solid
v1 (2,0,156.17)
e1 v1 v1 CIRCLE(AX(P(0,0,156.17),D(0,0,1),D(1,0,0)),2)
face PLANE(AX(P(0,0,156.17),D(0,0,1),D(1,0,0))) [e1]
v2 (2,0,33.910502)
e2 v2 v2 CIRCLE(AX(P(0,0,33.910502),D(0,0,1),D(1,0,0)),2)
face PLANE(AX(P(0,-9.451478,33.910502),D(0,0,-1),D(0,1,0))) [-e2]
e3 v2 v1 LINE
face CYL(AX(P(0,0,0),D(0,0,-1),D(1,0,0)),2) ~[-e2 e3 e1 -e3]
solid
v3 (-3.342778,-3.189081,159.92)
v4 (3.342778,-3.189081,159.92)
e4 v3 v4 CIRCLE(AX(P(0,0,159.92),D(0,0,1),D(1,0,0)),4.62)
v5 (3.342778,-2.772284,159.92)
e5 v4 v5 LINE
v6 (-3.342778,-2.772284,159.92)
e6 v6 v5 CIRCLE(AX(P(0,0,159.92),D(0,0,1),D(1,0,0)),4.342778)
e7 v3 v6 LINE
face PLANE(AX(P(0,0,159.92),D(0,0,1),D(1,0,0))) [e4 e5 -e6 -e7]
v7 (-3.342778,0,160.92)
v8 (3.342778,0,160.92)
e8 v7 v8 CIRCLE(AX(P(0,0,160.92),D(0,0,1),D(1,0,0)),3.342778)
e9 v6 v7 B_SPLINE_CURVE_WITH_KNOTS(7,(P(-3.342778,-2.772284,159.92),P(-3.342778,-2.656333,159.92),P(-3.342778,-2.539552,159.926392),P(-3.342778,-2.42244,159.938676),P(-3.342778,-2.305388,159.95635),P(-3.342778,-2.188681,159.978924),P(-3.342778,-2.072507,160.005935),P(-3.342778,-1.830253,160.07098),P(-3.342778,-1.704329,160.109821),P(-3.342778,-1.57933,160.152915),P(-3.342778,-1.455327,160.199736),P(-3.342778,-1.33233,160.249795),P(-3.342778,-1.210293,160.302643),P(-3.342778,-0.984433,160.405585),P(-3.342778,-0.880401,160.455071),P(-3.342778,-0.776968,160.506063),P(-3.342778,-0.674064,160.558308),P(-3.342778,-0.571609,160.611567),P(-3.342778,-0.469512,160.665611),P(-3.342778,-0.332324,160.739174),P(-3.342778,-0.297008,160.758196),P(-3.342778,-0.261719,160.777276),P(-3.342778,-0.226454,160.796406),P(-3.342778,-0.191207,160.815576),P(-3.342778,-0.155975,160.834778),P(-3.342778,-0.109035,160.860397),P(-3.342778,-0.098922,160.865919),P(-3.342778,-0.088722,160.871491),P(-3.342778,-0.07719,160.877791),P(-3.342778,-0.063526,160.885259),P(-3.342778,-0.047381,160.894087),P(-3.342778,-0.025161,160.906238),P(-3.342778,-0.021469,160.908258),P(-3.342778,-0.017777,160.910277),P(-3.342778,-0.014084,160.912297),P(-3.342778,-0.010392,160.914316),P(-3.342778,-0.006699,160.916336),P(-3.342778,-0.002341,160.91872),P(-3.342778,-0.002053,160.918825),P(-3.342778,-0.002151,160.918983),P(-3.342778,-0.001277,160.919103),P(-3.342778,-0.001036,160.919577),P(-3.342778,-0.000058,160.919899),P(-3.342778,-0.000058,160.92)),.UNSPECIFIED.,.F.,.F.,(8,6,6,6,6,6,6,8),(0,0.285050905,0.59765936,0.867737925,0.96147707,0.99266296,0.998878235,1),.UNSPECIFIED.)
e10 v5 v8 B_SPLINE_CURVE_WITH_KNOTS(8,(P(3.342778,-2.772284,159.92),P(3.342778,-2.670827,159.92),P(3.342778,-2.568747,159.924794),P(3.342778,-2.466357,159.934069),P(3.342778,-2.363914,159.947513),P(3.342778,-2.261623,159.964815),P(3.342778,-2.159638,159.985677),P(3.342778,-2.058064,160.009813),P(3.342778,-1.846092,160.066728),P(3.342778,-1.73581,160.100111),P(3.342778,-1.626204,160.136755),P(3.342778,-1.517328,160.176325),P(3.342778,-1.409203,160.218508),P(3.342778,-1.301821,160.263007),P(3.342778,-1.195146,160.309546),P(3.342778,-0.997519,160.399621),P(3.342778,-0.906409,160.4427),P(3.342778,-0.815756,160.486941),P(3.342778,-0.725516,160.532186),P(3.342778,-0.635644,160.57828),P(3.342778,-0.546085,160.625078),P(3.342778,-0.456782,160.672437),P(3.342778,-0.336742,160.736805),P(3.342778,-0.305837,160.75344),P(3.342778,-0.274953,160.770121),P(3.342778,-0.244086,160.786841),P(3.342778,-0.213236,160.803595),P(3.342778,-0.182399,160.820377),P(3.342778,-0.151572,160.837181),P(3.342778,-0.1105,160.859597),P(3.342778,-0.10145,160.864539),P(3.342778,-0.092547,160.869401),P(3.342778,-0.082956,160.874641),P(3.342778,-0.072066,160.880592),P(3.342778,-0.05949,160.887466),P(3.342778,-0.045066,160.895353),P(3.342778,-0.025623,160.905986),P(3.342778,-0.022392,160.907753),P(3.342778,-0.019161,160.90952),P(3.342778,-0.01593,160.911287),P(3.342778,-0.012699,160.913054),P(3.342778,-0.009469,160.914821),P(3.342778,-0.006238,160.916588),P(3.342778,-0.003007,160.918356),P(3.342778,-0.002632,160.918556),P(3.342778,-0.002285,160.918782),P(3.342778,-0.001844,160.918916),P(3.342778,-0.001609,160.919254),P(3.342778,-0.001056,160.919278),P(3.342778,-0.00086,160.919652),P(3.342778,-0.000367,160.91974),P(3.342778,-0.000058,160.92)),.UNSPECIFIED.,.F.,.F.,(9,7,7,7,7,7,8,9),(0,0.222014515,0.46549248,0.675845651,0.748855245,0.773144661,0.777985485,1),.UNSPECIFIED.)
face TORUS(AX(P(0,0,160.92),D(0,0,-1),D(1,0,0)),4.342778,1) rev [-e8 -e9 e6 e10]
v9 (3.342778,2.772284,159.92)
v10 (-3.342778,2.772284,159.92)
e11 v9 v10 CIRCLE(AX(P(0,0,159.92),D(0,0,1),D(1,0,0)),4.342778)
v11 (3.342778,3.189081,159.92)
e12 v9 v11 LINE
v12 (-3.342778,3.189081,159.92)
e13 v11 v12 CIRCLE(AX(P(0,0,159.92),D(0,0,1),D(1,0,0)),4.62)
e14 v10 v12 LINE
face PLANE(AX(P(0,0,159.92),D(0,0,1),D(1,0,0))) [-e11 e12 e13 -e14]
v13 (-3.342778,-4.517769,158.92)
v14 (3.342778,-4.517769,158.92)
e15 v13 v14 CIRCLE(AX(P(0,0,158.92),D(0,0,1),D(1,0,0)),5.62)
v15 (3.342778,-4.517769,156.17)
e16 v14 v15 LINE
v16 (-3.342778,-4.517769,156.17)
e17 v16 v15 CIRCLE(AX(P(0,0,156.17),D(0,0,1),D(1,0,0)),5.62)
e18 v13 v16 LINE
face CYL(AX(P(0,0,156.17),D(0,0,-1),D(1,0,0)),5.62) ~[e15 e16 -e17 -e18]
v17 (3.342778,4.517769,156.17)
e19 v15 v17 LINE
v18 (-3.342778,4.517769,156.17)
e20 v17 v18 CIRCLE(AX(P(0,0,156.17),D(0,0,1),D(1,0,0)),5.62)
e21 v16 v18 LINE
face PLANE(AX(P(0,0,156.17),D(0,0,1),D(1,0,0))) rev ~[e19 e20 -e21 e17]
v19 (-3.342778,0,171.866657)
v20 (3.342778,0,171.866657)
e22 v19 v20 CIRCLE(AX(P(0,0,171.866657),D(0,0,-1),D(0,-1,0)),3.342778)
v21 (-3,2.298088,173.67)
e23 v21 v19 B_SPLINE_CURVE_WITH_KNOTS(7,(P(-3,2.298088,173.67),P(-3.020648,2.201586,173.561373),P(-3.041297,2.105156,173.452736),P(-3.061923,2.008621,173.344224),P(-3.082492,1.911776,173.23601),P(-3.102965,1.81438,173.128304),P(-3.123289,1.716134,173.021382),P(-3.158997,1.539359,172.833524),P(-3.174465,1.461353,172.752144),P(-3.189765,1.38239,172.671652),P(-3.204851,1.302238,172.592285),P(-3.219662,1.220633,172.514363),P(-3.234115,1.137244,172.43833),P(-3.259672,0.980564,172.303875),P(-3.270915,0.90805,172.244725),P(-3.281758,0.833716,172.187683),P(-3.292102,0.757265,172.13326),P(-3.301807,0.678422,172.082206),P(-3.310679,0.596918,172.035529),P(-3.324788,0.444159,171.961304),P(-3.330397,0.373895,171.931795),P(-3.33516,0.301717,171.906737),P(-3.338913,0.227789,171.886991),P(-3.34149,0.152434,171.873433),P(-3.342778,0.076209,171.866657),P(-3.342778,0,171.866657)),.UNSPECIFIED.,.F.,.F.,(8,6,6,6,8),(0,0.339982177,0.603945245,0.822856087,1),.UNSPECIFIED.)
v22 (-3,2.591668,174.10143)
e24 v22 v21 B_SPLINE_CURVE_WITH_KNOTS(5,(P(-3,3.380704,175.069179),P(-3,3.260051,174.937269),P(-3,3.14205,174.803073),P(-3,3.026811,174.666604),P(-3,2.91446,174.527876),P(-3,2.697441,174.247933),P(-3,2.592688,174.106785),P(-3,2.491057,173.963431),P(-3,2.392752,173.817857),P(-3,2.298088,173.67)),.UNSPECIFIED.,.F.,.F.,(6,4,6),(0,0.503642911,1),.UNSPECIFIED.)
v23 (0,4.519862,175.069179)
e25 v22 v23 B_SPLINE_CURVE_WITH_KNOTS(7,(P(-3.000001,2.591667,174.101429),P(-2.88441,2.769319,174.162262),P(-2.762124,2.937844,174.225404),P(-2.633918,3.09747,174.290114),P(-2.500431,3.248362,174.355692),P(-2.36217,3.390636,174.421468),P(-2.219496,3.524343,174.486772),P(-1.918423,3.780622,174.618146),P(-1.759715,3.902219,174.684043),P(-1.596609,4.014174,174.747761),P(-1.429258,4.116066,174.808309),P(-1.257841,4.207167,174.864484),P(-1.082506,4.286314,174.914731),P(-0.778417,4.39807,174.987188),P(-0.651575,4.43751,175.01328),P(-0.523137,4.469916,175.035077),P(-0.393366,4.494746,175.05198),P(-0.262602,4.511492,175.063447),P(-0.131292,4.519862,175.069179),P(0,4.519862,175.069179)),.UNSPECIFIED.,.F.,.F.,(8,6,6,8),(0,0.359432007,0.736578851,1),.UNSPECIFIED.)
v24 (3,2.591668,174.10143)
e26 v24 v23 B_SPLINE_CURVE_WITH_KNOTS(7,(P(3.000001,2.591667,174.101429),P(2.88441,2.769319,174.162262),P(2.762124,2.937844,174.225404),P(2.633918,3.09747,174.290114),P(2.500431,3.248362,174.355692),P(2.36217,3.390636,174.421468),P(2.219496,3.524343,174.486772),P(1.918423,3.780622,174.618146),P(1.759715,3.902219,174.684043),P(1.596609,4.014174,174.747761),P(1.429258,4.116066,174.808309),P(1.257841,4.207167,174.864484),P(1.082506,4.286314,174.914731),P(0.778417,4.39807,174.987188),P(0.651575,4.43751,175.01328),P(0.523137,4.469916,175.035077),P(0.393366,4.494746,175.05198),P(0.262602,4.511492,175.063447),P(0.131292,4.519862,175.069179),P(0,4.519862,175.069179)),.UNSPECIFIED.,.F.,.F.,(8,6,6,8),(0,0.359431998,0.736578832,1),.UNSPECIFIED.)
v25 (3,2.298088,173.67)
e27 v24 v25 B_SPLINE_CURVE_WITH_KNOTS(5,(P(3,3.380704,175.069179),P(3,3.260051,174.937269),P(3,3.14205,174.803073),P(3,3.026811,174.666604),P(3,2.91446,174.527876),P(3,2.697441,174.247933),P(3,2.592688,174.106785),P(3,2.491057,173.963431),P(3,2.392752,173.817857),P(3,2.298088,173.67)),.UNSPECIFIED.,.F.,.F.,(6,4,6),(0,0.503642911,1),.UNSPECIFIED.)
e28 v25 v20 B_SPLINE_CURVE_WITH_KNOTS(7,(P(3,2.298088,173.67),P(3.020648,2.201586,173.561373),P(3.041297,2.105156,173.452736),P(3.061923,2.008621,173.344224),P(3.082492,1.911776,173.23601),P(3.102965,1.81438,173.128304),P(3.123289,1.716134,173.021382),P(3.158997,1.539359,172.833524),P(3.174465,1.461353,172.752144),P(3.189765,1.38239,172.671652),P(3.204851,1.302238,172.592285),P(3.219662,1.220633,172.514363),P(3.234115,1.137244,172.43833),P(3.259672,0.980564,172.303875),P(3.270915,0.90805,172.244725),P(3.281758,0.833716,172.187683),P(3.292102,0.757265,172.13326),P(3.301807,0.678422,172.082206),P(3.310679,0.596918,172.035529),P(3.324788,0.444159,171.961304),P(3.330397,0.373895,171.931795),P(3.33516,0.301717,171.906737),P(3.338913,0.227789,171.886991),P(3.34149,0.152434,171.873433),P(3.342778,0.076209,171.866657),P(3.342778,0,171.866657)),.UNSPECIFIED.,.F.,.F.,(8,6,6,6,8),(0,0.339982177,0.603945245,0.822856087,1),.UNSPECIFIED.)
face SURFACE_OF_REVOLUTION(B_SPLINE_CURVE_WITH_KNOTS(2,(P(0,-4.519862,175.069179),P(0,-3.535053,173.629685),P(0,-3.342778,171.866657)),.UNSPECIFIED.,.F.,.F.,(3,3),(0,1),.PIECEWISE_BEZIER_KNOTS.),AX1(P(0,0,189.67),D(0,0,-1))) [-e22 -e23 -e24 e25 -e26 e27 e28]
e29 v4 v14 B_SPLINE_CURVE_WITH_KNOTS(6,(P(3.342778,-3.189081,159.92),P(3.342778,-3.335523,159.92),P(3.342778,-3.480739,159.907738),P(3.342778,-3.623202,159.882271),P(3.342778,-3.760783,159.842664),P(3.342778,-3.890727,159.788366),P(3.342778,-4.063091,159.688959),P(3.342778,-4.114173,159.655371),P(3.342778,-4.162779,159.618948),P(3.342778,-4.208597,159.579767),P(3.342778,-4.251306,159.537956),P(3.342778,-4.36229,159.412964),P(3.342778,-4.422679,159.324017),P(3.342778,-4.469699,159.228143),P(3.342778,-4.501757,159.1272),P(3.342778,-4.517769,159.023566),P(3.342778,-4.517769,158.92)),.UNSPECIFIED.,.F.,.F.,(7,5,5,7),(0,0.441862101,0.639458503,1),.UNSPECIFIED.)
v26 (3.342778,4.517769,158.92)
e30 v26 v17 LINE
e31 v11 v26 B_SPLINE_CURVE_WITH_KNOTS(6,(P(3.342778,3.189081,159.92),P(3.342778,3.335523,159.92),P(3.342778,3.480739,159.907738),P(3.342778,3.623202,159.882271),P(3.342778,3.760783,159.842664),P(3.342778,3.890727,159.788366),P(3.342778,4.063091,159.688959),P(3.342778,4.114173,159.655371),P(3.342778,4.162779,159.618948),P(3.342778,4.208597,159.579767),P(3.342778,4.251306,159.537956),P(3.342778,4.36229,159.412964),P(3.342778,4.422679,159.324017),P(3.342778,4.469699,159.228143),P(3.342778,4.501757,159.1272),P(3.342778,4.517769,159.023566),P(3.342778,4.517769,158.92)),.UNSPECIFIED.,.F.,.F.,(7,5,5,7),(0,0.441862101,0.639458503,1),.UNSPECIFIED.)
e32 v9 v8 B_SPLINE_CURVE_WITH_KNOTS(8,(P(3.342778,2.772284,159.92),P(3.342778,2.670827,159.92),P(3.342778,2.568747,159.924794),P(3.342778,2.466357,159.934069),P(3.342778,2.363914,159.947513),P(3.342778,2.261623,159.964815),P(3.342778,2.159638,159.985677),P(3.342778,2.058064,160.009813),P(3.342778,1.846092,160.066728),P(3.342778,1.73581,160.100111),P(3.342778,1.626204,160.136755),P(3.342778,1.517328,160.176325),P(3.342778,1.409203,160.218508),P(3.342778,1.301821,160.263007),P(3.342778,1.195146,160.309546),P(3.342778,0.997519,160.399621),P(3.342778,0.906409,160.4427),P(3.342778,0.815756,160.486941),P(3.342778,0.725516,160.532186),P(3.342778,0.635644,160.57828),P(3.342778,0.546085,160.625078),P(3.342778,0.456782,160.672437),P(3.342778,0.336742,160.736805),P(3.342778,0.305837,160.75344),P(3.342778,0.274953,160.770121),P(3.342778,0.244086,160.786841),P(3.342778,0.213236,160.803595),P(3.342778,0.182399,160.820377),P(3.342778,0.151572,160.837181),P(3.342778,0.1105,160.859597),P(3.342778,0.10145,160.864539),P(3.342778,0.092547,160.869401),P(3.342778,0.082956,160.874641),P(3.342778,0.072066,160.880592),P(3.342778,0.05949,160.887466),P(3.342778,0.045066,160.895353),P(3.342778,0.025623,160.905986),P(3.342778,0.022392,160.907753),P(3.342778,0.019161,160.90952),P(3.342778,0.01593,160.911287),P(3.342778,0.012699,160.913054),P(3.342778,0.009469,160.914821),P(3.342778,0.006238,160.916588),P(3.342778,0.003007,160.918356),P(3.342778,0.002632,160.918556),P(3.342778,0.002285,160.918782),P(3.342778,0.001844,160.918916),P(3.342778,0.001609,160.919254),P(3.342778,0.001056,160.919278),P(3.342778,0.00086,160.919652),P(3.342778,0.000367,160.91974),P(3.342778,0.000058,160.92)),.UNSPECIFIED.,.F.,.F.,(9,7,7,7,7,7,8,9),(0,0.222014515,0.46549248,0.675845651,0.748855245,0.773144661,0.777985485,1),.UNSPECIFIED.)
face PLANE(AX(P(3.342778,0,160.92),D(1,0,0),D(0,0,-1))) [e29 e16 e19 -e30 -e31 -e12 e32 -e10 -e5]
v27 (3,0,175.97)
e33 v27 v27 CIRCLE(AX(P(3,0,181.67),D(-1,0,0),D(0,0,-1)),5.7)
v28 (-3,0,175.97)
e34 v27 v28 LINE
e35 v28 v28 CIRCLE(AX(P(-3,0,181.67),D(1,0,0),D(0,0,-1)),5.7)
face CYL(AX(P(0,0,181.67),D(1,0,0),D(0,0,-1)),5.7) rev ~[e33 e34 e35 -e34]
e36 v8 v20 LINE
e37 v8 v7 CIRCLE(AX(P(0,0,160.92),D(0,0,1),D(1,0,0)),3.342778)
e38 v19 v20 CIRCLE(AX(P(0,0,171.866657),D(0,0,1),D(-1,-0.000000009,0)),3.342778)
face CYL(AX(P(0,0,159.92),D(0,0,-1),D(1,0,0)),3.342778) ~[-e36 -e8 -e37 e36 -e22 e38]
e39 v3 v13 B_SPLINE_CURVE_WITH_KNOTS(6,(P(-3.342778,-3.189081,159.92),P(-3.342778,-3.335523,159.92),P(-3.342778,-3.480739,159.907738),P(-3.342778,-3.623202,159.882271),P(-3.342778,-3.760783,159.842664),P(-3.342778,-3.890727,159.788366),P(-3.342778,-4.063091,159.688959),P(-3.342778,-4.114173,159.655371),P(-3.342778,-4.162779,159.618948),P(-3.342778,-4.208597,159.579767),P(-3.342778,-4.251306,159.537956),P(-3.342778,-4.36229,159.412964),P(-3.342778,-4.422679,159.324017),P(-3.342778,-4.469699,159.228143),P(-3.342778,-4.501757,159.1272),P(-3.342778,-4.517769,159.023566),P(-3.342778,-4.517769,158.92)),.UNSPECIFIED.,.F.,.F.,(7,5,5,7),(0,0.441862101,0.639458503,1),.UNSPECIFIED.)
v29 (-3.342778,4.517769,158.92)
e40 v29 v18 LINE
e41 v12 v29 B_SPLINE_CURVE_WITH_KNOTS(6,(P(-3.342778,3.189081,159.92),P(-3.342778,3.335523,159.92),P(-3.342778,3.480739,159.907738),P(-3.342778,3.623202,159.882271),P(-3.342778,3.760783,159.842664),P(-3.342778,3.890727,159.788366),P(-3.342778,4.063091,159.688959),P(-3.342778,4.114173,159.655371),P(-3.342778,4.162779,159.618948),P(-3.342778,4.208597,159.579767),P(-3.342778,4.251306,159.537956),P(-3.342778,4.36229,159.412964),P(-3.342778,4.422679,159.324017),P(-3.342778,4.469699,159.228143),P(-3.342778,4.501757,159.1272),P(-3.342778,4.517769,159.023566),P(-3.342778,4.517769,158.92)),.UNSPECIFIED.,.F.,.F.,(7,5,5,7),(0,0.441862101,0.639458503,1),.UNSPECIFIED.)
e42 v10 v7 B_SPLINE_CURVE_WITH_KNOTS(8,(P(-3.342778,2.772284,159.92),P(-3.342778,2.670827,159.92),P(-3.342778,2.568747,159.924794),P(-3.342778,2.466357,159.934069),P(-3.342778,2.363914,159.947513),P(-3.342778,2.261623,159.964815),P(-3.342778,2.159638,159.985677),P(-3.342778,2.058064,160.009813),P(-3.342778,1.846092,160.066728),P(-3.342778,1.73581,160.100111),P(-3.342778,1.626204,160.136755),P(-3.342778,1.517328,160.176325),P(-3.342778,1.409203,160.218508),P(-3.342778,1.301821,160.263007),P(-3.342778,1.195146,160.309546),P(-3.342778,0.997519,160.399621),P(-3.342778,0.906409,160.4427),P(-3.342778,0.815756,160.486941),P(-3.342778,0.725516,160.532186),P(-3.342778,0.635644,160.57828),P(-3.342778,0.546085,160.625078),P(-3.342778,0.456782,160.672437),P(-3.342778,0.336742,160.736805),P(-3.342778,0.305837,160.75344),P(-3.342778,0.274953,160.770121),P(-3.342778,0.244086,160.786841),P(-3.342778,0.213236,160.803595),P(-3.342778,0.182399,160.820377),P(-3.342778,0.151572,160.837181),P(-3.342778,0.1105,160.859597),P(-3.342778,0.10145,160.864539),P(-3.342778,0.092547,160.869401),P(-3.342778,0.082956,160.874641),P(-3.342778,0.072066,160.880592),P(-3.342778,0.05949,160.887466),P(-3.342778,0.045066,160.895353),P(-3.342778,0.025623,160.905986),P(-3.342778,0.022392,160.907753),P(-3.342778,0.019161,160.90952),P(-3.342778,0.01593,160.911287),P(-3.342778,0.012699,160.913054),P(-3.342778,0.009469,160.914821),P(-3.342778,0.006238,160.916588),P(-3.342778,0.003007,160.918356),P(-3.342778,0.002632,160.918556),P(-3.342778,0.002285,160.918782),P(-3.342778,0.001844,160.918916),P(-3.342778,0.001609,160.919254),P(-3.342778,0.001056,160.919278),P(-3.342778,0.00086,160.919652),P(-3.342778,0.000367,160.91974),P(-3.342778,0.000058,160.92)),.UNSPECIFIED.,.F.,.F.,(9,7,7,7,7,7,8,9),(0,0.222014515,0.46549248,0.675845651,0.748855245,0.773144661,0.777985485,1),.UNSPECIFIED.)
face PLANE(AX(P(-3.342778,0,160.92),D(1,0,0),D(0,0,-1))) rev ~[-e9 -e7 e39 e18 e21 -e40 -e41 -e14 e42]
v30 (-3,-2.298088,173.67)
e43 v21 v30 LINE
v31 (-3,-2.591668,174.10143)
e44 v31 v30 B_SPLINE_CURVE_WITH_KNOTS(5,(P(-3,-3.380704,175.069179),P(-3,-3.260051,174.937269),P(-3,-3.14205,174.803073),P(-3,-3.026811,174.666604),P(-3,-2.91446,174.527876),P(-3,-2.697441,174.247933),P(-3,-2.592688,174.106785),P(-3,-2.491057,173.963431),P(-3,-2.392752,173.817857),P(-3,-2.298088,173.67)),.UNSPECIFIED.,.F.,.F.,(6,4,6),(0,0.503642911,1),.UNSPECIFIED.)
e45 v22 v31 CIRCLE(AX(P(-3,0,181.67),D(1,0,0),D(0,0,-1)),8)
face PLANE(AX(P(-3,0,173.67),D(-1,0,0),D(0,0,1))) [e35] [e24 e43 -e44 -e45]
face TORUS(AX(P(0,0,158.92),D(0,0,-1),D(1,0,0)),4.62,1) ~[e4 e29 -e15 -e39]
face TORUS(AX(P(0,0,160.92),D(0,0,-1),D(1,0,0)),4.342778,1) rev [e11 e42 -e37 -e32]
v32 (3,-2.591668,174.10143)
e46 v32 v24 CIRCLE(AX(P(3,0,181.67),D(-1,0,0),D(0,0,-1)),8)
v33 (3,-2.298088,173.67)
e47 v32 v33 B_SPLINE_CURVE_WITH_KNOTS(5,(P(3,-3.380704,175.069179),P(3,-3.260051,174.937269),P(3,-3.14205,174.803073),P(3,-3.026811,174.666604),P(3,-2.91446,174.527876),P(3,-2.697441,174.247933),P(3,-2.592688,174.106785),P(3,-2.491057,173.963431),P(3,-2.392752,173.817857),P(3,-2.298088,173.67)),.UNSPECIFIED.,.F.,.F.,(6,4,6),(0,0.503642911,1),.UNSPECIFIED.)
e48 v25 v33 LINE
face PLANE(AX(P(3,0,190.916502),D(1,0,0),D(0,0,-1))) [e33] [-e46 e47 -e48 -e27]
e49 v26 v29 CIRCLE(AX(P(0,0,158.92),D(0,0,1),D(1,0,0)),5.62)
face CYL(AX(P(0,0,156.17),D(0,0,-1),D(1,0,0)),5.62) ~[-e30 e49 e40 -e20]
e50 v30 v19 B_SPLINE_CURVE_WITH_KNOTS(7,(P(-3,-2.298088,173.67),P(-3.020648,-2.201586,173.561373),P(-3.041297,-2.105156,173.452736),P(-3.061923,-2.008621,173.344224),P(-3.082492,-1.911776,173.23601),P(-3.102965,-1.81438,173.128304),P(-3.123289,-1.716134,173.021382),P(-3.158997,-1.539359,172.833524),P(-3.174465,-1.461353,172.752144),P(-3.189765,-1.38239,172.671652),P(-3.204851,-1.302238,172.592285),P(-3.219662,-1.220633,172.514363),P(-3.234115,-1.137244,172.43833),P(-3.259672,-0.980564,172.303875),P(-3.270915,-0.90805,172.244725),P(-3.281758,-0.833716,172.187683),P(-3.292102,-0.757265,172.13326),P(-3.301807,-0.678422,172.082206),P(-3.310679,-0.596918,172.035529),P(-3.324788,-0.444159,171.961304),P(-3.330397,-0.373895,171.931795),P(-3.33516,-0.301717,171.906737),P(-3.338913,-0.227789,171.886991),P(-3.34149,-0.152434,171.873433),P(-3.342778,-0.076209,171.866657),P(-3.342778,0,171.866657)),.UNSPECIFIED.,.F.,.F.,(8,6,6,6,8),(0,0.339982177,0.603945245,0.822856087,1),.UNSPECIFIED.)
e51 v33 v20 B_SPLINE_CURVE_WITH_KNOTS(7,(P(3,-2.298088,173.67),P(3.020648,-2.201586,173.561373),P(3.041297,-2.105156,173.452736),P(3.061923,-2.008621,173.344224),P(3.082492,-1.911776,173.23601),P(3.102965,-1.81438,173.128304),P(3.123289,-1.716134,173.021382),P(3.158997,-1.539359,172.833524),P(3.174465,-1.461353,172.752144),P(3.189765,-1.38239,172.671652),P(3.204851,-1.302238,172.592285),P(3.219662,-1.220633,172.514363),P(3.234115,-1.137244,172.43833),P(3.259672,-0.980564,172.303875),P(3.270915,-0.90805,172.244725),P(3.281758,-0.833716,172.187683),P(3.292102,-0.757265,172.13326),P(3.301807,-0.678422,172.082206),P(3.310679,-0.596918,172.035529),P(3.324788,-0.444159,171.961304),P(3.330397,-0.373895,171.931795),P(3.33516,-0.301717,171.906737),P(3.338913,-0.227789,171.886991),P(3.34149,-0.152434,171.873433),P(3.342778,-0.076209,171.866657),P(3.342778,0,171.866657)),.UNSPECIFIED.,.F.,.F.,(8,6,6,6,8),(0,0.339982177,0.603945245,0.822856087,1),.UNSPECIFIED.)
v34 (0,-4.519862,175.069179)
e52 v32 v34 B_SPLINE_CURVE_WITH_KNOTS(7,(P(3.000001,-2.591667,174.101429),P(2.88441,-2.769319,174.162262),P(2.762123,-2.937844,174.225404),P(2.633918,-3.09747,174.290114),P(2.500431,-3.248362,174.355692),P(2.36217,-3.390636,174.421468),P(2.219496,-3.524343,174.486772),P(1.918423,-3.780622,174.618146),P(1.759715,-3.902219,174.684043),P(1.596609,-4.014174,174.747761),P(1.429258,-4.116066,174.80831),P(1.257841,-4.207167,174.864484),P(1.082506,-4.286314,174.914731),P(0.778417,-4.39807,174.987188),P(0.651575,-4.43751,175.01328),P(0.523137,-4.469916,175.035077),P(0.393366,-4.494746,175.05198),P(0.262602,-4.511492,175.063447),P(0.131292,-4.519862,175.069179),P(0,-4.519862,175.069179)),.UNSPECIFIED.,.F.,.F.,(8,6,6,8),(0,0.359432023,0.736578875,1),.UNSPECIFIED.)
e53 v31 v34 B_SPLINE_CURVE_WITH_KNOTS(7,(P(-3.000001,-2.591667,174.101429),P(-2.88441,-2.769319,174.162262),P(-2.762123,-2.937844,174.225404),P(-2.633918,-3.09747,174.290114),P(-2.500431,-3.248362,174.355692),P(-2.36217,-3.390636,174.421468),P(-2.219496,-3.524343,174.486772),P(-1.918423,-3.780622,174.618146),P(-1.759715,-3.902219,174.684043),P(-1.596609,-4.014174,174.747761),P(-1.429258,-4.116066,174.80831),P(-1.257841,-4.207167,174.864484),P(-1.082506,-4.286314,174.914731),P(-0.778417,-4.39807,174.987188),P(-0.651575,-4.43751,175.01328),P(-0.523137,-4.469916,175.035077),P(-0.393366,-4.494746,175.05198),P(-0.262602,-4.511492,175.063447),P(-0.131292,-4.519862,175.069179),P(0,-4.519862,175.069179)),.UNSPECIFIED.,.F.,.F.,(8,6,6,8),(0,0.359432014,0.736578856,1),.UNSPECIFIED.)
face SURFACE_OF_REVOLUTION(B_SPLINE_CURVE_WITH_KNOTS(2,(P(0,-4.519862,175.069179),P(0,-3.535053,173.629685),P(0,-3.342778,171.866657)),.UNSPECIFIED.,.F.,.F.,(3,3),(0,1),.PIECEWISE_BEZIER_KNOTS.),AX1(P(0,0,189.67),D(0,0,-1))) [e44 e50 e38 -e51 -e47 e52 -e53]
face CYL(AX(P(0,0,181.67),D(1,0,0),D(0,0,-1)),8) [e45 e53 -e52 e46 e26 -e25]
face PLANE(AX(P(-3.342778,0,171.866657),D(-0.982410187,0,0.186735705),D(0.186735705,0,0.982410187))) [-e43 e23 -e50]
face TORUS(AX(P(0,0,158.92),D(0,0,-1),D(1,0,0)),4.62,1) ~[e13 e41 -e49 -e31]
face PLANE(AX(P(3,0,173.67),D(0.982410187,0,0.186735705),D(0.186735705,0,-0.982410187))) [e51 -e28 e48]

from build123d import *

# Parameters (mm, degrees)
SKETCH1_R                = 2
BOSS_EXTRUDE1_DEPTH      = 156.17
SKETCH2_R                = 5.62
BOSS_EXTRUDE2_DEPTH      = 3.75
SKETCH3_R                = 3.342777959
BOSS_EXTRUDE3_DEPTH      = 14.75
FILLET4_R                = 1
FILLET5_R                = 1
SKETCH4_R                = 8
SKETCH4_R_2              = 5.7
BOSS_EXTRUDE4_DEPTH      = 5
BOSS_EXTRUDE4_DEPTH_BACK = 5
SKETCH7_W                = 5.315591211
SKETCH7_H                = 6.235782502
CUT_EXTRUDE2_DEPTH       = 190.921808488
CUT_EXTRUDE2_DEPTH_BACK  = 190.921808488
SKETCH8_W                = 43.943045651
SKETCH8_H                = 13.288257187
CUT_EXTRUDE3_DEPTH       = 190.868067628
CUT_EXTRUDE3_DEPTH_BACK  = 190.868067628


with BuildPart() as part:
    # Sketch1 → Boss-Extrude1 (new body)
    with BuildSketch(Plane.XY):
        Circle(SKETCH1_R)
    extrude(amount=BOSS_EXTRUDE1_DEPTH)

    # Sketch8 → Cut-Extrude3 (cut, two sides)
    with BuildSketch(Plane(origin=(0, 0, 0), x_dir=(0, 0, -1), z_dir=(1, 0, 0))) as cut_extrude3_sk:
        with Locations((-11.938978735, -2.807349683)):
            Rectangle(SKETCH8_W, SKETCH8_H)
    extrude(amount=CUT_EXTRUDE3_DEPTH, mode=Mode.SUBTRACT)
    extrude(cut_extrude3_sk.sketch, amount=-CUT_EXTRUDE3_DEPTH_BACK, mode=Mode.SUBTRACT)


with BuildPart() as body_2:
    # Sketch2 → Boss-Extrude2 (new body)
    with BuildSketch(Plane.XY.offset(156.17)):
        Circle(SKETCH2_R)
    extrude(amount=BOSS_EXTRUDE2_DEPTH)

    # Sketch3 → Boss-Extrude3 (add)
    with BuildSketch(Plane.XY.offset(159.92)):
        Circle(SKETCH3_R)
    extrude(amount=BOSS_EXTRUDE3_DEPTH)

    # Fillet4
    fillet4_edges = [body_2.edges().sort_by_distance(p)[0] for p in [
        (-3.342777959, 0, 159.92),
    ]]
    fillet(fillet4_edges, radius=FILLET4_R)

    # Fillet5
    fillet5_edges = [body_2.edges().sort_by_distance(p)[0] for p in [
        (-5.62, 0, 159.92),
    ]]
    fillet(fillet5_edges, radius=FILLET5_R)

    # Sketch4 → Boss-Extrude4 (add, two sides)
    with BuildSketch(Plane(origin=(0, 0, 0), x_dir=(0, 0, -1), z_dir=(1, 0, 0))) as boss_extrude4_sk:
        with Locations((-181.67, 0)):
            Circle(SKETCH4_R)
        with Locations((-181.67, 0)):
            Circle(SKETCH4_R_2, mode=Mode.SUBTRACT)
    extrude(amount=BOSS_EXTRUDE4_DEPTH)
    extrude(boss_extrude4_sk.sketch, amount=-BOSS_EXTRUDE4_DEPTH_BACK)


with BuildPart() as body_3:
    # Sketch4_4 → Revolve2 (revolve)
    with BuildSketch(Plane(origin=(0, 0, 0), x_dir=(0, 0, -1), z_dir=(1, 0, 0))):
        with BuildLine():
            Line((-171.86665682, 0), (-173.67, 0))
            ThreePointArc((-173.67, 0), (-174.027795759, -2.365737588), (-175.069178584, -4.519862457))
            add(Edge.make_bspline(
                [(-175.069178584, -4.519862457), (-173.629685325, -3.535053024), (-171.86665682, -3.342777959)],
                knots=[0, 0, 0, 1, 1, 1], degree=2))
            Line((-171.86665682, -3.342777959), (-171.86665682, 0))
        make_face()
    revolve(axis=Axis((0, 0, 189.67), (0, 0, -1)))


with BuildPart() as cut_extrude2_tool:
    # Sketch7 → Cut-Extrude2 (new, two sides)
    with BuildSketch(Plane(origin=(0, 0, 0), x_dir=(1, 0, 0), z_dir=(0, 1, 0))) as cut_extrude2_sk:
        Polygon((3, -173.67), (3.34277796, -171.86665682), (8.65836917, -171.86665682), (8.65836917, -190.916502477), (3, -190.916502477), align=None)
        Polygon((-3, -190.916502477), (-8.65836917, -190.916502477), (-8.65836917, -171.86665682), (-3.34277796, -171.86665682), (-3, -173.67), align=None)
        with Locations((-6.000573564, -157.802108749)):
            Rectangle(SKETCH7_W, SKETCH7_H)
        with Locations((6.000573564, -157.802108749)):
            Rectangle(SKETCH7_W, SKETCH7_H)
    extrude(amount=CUT_EXTRUDE2_DEPTH)
    extrude(cut_extrude2_sk.sketch, amount=-CUT_EXTRUDE2_DEPTH_BACK)


with BuildPart() as body_2_1:
    add(body_2.part)

    # Cut-Extrude2: cut by cut_extrude2_tool
    add(cut_extrude2_tool.part, mode=Mode.SUBTRACT)


with BuildPart() as body_3_1:
    add(body_3.part)

    # Cut-Extrude2: cut by cut_extrude2_tool
    add(cut_extrude2_tool.part, mode=Mode.SUBTRACT)


with BuildPart() as body_2_2:
    add(body_2_1.part)

    # Combine1: union body 3
    add(body_3_1.part)


solid = Compound([part.part, body_2_2.part])
